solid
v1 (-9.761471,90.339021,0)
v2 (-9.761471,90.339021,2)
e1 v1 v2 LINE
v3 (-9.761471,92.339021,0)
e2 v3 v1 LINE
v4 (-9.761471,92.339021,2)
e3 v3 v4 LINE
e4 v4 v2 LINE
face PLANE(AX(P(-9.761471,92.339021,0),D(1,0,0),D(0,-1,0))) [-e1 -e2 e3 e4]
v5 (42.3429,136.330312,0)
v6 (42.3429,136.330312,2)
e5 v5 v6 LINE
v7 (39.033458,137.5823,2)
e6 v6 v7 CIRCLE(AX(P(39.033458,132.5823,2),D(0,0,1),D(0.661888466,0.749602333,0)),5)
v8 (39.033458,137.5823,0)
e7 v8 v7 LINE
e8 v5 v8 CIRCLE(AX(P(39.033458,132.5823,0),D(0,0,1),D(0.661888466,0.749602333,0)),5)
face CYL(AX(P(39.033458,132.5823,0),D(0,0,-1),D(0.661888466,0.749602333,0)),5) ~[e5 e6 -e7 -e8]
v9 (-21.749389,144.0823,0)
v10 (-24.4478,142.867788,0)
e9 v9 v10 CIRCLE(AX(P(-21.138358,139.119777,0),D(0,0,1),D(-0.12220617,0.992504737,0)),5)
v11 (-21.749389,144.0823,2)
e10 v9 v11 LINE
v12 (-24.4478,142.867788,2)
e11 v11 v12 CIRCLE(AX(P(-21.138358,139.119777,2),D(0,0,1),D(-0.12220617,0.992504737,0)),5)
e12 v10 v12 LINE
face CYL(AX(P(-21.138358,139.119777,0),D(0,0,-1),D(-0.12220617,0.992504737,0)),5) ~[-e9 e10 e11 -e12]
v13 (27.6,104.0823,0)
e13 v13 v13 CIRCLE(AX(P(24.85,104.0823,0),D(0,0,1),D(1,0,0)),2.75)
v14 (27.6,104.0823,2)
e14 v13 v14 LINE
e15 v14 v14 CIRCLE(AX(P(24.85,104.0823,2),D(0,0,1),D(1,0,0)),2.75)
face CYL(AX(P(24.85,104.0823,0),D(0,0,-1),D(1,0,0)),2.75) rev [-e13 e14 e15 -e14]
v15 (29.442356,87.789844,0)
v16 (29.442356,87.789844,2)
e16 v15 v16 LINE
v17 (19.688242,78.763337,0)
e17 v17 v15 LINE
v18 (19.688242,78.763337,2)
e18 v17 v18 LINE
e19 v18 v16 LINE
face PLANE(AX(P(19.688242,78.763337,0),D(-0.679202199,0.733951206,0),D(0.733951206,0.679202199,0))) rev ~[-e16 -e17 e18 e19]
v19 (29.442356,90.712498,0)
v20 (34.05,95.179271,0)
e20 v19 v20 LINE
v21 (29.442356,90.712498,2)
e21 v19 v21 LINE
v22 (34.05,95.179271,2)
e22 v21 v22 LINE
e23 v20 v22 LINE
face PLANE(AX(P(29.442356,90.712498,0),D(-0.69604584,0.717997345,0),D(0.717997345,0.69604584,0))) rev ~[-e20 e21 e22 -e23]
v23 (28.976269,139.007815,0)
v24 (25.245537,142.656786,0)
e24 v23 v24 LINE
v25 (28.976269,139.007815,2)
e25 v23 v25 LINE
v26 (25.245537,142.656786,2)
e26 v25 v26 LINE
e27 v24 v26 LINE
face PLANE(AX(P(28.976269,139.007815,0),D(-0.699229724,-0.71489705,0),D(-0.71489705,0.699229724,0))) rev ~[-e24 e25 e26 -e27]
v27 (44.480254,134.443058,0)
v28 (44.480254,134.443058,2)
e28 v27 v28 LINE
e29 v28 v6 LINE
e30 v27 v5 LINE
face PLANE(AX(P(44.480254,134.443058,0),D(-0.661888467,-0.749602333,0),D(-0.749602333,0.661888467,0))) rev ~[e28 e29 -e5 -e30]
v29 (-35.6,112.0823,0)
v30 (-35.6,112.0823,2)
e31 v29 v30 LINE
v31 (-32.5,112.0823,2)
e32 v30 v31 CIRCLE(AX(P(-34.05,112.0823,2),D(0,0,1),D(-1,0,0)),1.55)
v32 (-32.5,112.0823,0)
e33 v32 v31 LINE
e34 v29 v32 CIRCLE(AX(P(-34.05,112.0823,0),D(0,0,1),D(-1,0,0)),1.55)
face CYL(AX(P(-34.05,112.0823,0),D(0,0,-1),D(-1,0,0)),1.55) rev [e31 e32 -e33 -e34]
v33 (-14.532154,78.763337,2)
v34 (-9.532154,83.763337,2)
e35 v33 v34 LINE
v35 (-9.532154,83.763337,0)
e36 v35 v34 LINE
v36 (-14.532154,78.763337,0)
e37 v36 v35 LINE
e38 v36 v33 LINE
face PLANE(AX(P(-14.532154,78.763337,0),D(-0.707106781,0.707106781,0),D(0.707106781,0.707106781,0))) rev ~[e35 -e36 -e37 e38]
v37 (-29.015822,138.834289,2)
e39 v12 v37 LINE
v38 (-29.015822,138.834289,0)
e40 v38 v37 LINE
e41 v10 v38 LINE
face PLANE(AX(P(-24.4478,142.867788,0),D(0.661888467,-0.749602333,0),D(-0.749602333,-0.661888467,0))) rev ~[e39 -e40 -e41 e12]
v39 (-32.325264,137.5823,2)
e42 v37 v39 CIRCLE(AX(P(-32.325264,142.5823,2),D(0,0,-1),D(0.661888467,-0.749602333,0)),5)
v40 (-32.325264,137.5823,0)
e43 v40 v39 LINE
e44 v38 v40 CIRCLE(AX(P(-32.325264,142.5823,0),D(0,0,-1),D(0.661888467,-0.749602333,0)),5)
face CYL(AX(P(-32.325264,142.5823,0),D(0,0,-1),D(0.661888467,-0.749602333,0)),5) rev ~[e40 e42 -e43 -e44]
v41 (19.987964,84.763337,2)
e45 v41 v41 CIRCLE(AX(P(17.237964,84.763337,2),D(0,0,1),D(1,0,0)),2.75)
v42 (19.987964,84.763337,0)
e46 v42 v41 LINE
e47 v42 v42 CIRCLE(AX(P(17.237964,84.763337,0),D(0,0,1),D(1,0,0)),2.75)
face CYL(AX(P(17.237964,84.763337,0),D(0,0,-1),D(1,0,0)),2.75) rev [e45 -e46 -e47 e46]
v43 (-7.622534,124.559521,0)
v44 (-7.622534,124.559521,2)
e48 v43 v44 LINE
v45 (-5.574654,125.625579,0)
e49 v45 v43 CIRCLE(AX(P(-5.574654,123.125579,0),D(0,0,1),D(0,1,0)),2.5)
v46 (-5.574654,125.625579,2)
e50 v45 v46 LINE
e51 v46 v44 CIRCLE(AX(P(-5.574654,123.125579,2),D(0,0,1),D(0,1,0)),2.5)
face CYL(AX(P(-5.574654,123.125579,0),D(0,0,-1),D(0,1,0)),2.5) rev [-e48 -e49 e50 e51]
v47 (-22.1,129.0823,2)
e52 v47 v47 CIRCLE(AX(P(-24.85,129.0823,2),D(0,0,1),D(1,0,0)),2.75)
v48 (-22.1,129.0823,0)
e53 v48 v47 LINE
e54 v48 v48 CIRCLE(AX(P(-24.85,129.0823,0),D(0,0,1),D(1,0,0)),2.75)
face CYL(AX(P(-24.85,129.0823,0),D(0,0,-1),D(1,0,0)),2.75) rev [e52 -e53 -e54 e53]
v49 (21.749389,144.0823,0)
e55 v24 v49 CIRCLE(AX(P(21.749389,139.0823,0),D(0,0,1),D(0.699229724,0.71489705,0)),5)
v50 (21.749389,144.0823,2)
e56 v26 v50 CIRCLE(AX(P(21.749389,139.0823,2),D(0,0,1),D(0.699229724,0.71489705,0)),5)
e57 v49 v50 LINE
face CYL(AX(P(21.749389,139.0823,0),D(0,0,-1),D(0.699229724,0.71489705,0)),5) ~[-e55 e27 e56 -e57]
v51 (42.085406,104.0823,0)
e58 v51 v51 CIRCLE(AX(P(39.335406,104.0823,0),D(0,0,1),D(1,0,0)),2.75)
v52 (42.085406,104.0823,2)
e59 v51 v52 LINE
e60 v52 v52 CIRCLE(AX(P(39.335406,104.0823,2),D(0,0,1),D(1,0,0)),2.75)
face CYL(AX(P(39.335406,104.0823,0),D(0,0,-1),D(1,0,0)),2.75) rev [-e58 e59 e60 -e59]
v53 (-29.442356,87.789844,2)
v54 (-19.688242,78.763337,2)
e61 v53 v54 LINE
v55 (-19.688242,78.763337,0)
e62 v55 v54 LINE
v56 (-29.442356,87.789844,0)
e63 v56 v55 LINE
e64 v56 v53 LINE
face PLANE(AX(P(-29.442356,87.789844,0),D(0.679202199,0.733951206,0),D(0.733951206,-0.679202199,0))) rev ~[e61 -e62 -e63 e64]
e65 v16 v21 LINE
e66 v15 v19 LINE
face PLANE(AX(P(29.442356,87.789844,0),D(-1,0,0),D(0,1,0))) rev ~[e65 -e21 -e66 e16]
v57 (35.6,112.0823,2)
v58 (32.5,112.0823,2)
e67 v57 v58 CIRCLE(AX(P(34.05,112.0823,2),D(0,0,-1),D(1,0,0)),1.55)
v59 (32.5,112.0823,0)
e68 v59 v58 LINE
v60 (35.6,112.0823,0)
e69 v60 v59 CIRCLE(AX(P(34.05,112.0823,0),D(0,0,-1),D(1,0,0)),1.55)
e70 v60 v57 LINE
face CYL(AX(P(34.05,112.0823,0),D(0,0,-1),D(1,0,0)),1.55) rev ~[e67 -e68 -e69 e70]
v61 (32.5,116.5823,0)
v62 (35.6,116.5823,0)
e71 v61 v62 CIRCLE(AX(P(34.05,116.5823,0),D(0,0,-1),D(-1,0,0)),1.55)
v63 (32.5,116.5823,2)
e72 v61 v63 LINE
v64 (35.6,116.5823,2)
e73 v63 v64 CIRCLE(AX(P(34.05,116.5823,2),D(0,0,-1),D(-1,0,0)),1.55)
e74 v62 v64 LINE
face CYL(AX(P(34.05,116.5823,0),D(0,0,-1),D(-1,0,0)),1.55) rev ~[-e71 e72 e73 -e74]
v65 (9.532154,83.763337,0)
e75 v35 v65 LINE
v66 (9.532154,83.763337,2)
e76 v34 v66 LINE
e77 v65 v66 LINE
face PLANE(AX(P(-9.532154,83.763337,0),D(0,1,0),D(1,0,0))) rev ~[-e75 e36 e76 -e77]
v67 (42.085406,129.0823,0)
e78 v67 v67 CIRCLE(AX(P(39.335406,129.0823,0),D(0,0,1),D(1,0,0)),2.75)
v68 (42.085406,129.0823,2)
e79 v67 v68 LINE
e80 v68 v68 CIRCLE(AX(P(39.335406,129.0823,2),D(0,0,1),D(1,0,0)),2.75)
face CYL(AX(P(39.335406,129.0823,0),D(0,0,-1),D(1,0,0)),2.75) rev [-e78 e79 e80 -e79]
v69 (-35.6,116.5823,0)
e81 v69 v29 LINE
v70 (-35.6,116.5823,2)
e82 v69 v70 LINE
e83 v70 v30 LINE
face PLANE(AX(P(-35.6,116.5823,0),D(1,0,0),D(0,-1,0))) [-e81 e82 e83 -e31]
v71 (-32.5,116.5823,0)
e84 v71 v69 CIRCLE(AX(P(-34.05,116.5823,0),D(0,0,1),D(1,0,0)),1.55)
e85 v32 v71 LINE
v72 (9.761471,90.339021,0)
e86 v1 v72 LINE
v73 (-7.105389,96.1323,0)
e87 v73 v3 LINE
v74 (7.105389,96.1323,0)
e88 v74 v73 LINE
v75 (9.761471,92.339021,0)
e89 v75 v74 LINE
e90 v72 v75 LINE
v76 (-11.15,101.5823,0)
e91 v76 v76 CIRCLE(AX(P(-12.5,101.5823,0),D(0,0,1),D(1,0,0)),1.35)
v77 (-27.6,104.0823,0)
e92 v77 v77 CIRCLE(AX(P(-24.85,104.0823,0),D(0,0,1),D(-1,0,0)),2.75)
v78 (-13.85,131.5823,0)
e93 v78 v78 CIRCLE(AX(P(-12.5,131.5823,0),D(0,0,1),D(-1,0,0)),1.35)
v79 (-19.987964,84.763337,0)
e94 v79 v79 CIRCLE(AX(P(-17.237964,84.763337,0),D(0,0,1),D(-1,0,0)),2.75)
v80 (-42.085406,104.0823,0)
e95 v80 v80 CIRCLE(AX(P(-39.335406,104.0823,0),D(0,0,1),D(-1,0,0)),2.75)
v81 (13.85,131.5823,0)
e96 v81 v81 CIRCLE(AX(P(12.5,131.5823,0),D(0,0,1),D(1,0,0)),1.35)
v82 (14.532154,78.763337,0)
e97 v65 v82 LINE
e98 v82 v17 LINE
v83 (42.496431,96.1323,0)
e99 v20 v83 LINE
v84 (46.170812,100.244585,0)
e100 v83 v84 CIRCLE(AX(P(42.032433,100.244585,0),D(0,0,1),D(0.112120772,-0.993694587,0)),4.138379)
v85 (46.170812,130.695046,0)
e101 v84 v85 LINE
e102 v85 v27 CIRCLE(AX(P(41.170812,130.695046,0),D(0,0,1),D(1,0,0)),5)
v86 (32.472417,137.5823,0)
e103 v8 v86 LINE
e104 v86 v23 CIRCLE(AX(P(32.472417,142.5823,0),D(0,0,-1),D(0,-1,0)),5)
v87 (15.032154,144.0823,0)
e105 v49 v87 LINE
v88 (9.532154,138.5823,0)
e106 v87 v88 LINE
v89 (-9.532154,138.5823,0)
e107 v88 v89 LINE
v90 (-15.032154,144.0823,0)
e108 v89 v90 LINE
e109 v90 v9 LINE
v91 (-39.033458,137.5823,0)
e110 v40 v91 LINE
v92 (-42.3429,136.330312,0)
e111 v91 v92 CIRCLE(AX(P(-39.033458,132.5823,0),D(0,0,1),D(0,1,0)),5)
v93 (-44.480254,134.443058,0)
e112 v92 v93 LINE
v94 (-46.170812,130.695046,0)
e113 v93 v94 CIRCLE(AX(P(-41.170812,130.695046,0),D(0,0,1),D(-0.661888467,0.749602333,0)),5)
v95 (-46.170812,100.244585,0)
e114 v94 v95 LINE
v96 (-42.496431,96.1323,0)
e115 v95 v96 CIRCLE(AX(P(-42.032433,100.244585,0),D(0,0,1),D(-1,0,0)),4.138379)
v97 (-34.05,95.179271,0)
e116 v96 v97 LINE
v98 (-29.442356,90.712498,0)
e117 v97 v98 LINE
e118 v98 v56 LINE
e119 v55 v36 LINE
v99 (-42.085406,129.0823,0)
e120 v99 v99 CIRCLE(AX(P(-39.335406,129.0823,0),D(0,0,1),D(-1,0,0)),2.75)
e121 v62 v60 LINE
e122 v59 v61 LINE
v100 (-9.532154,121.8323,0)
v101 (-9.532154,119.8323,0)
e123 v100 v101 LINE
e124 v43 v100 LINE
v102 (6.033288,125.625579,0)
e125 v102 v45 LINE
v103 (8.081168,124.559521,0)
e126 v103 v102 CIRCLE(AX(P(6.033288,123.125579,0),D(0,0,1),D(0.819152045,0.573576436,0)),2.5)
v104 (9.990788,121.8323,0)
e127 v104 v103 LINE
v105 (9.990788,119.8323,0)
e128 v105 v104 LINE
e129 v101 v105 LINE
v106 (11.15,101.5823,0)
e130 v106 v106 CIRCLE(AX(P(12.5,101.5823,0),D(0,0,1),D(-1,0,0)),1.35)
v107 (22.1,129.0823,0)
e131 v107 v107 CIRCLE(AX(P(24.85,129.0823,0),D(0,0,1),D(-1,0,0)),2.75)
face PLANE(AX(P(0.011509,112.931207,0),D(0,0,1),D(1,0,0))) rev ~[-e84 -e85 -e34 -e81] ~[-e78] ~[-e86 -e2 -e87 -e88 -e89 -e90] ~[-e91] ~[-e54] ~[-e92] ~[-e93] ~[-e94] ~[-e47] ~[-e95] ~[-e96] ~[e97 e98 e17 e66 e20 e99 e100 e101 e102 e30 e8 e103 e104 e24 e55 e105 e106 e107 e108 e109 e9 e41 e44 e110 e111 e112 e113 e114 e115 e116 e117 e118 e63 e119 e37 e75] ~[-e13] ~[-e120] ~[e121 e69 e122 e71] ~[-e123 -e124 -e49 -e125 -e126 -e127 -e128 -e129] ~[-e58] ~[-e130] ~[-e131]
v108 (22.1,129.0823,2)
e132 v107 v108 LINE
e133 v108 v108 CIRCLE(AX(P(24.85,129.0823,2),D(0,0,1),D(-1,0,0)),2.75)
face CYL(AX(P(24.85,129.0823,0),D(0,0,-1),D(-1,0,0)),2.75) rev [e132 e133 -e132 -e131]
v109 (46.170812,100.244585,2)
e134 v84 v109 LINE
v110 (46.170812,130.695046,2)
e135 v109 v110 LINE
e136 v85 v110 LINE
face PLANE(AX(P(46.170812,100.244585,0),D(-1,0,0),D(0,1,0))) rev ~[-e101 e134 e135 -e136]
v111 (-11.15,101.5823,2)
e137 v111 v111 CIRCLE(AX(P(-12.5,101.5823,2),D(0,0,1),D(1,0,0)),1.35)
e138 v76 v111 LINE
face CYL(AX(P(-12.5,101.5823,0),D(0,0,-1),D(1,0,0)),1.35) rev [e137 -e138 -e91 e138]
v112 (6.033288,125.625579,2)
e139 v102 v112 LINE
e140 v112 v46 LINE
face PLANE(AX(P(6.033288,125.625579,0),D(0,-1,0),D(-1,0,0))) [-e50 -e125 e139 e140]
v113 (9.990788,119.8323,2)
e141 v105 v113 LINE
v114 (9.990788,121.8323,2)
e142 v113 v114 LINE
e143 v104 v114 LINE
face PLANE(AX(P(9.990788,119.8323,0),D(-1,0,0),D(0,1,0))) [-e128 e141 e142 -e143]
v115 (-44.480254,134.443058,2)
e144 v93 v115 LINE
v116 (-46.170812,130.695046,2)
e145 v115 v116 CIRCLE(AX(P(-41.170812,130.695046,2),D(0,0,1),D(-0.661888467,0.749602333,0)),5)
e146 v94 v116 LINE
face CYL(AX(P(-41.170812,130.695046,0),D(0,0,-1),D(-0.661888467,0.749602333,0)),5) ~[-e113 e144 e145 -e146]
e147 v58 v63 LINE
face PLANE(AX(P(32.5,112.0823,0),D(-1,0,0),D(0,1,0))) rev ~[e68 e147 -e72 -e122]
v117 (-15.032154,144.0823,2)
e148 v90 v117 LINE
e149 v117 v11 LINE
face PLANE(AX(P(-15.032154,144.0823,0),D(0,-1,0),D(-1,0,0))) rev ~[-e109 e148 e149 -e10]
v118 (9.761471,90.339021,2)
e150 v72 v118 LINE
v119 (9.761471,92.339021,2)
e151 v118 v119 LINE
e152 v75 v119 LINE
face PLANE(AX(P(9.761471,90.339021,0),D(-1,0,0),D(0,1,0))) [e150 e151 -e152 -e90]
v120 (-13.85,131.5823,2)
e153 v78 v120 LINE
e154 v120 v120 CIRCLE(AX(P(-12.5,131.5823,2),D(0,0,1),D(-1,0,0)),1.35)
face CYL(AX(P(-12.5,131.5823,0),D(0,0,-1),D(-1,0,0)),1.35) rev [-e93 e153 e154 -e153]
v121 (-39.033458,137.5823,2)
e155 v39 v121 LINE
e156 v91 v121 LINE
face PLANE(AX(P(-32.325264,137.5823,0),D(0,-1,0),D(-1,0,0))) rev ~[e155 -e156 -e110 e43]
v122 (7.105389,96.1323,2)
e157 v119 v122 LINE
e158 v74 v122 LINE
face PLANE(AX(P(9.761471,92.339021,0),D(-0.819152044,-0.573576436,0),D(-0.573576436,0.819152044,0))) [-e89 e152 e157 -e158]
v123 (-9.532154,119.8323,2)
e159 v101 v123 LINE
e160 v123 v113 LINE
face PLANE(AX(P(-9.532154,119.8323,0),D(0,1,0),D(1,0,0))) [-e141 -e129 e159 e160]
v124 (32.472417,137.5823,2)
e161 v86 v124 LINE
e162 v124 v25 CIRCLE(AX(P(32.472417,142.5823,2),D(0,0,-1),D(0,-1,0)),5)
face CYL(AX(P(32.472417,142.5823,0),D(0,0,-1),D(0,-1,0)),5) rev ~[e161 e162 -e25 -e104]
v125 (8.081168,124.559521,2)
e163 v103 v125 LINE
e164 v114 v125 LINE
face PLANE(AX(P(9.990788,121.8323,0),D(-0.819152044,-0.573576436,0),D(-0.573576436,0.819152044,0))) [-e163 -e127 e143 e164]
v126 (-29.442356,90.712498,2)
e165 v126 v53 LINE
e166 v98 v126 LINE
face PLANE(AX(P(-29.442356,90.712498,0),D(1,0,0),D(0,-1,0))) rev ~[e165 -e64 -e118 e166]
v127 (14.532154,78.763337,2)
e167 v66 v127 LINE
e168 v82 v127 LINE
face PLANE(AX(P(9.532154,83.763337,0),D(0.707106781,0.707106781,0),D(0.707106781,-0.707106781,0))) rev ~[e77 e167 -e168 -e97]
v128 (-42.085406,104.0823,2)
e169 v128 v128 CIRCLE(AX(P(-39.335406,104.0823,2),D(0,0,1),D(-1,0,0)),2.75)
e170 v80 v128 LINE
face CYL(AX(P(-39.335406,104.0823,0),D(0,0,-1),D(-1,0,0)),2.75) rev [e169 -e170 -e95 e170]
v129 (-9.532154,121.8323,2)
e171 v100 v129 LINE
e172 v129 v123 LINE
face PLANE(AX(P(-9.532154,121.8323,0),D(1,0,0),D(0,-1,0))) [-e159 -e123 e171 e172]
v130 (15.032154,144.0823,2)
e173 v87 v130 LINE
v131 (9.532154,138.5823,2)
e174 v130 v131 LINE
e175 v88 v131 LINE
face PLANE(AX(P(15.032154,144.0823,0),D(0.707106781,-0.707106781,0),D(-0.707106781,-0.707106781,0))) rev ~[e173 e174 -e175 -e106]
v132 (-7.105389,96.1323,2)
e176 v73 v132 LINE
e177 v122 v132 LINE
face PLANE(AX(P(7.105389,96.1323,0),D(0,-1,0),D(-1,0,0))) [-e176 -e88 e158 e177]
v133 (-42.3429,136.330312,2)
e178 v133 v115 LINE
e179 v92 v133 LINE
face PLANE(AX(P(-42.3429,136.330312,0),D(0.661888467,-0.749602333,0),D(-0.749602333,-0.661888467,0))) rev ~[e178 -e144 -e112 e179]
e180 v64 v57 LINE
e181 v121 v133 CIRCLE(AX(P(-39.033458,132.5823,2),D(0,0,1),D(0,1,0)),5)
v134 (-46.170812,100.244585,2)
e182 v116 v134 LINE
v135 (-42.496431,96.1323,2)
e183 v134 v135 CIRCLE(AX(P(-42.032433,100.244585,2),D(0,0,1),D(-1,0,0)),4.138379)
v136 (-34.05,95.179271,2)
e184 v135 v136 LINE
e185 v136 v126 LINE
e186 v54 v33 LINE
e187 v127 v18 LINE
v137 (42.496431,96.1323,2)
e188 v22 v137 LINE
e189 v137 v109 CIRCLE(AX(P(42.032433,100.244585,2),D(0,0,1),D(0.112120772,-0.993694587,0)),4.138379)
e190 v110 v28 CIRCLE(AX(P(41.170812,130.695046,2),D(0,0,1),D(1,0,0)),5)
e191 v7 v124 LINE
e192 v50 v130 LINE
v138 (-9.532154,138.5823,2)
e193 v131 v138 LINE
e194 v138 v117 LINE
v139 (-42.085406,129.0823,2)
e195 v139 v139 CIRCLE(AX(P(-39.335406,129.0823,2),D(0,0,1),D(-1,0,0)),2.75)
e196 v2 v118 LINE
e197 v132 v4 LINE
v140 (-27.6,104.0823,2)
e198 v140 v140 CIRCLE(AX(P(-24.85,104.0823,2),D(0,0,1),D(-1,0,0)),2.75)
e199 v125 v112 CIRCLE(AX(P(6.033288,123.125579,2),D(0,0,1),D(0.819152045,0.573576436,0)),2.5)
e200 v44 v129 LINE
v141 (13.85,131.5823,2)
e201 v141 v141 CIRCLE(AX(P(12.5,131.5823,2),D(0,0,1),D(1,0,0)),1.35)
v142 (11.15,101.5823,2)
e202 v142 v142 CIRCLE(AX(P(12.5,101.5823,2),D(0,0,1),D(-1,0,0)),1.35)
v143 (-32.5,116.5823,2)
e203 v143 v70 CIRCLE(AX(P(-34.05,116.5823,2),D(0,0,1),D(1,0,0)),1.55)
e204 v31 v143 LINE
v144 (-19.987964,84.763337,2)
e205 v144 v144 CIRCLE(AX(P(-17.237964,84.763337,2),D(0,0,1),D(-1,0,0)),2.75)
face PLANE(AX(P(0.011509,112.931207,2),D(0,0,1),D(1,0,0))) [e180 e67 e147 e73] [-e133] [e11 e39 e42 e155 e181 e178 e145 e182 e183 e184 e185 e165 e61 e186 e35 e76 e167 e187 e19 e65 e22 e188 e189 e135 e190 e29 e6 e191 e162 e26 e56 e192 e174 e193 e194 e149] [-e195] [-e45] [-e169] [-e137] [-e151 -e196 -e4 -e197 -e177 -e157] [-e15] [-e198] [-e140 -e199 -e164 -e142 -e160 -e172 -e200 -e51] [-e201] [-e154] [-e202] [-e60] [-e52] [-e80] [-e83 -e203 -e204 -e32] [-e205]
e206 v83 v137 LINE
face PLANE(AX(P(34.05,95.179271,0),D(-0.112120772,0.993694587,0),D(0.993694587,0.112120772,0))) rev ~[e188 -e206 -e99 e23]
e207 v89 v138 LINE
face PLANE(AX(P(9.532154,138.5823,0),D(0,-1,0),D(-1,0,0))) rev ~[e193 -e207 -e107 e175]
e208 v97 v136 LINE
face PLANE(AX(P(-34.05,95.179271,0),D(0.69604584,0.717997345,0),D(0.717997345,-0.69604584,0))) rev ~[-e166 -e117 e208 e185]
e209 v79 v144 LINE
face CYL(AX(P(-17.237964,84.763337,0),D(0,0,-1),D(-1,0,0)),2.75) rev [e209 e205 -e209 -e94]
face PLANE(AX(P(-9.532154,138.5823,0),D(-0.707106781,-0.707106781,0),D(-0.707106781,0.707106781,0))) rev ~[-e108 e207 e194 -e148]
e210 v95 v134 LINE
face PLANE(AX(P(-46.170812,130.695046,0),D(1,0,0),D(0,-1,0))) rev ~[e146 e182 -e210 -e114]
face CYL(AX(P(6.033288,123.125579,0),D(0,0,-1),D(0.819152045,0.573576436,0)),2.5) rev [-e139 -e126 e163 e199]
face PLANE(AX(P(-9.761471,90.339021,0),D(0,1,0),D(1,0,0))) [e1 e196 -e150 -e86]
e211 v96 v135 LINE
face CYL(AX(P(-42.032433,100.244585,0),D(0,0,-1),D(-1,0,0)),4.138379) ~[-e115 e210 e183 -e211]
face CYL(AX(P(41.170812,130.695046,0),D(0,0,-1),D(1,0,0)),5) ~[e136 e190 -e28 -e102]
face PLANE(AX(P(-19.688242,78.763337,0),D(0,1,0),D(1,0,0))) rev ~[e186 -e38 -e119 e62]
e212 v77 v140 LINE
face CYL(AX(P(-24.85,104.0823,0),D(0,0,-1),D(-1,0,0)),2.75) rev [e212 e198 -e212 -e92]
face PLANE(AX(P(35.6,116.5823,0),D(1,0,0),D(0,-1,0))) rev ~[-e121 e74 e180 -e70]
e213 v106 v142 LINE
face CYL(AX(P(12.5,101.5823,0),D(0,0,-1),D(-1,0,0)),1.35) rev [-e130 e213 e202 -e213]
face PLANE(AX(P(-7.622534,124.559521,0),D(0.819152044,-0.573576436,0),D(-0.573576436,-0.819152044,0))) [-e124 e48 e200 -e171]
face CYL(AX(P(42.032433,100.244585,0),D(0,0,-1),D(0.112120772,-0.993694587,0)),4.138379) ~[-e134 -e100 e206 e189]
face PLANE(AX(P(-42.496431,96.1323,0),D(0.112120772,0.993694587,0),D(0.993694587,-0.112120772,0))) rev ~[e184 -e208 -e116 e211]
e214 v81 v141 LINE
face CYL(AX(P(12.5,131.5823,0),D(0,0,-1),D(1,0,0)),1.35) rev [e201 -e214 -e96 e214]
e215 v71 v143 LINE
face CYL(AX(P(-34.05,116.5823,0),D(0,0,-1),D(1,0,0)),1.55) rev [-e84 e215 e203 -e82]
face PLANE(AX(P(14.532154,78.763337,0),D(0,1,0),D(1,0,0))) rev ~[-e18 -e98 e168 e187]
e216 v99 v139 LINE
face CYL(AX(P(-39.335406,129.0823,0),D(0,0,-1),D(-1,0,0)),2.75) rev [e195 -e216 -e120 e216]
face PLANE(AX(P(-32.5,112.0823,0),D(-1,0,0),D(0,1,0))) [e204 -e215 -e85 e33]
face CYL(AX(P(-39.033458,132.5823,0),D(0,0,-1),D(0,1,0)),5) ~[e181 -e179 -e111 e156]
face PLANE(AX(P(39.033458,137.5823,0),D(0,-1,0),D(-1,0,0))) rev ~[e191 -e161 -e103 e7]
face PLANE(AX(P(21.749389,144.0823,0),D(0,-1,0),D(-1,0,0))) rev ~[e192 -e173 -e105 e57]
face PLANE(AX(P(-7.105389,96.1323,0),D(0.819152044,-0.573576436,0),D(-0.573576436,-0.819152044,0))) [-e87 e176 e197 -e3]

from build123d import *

# Parameters (mm, degrees)
SKETCH_187_R    = 2.75
SKETCH_187_R_2  = 1.35
EXTRUDE_1_DEPTH = 2


with BuildPart() as part:
    # Sketch 187 → 凸台-拉伸1 (new body)
    with BuildSketch(Plane.XY):
        with BuildLine():
            Line((-24.447800114, 142.867788384), (-29.015821613, 138.834288737))
            ThreePointArc((-29.015821613, 138.834288737), (-30.556091587, 137.905760103), (-32.325263946, 137.582300402))
            Line((-32.325263946, 137.582300402), (-39.033457742, 137.582300402))
            ThreePointArc((-39.033457742, 137.582300402), (-40.802630101, 137.2588407), (-42.342900075, 136.330312067))
            Line((-42.342900075, 136.330312067), (-44.480254451, 134.443057788))
            ThreePointArc((-44.480254451, 134.443057788), (-45.728619247, 132.750865708), (-46.170812117, 130.695046123))
            Line((-46.170812117, 130.695046123), (-46.170812117, 100.244585214))
            ThreePointArc((-46.170812117, 100.244585214), (-45.11839985, 97.487233211), (-42.496431366, 96.132300402))
            Line((-42.496431366, 96.132300402), (-34.05, 95.17927075))
            Line((-34.05, 95.17927075), (-29.442356392, 90.712497735))
            Line((-29.442356392, 90.712497735), (-29.442356392, 87.789843939))
            Line((-29.442356392, 87.789843939), (-19.688242157, 78.763336754))
            Line((-19.688242157, 78.763336754), (-14.532154357, 78.763336754))
            Line((-14.532154357, 78.763336754), (-9.532154357, 83.763336754))
            Line((-9.532154357, 83.763336754), (9.532154357, 83.763336754))
            Line((9.532154357, 83.763336754), (14.532154357, 78.763336754))
            Line((14.532154357, 78.763336754), (19.688242157, 78.763336754))
            Line((19.688242157, 78.763336754), (29.442356392, 87.789843939))
            Line((29.442356392, 87.789843939), (29.442356392, 90.712497735))
            Line((29.442356392, 90.712497735), (34.05, 95.17927075))
            Line((34.05, 95.17927075), (42.496431366, 96.132300402))
            ThreePointArc((42.496431366, 96.132300402), (45.11839985, 97.487233211), (46.170812117, 100.244585214))
            Line((46.170812117, 100.244585214), (46.170812117, 130.695046123))
            ThreePointArc((46.170812117, 130.695046123), (45.728619247, 132.750865708), (44.480254451, 134.443057788))
            Line((44.480254451, 134.443057788), (42.342900075, 136.330312067))
            ThreePointArc((42.342900075, 136.330312067), (40.802630101, 137.2588407), (39.033457742, 137.582300402))
            Line((39.033457742, 137.582300402), (32.472417217, 137.582300402))
            ThreePointArc((32.472417217, 137.582300402), (30.584617738, 137.952374579), (28.976268595, 139.007815151))
            Line((28.976268595, 139.007815151), (25.245537252, 142.656785653))
            ThreePointArc((25.245537252, 142.656785653), (23.637188108, 143.712226225), (21.74938863, 144.082300402))
            Line((21.74938863, 144.082300402), (15.032154357, 144.082300402))
            Line((15.032154357, 144.082300402), (9.532154357, 138.582300402))
            Line((9.532154357, 138.582300402), (-9.532154357, 138.582300402))
            Line((-9.532154357, 138.582300402), (-15.032154357, 144.082300402))
            Line((-15.032154357, 144.082300402), (-21.74938863, 144.082300402))
            ThreePointArc((-21.74938863, 144.082300402), (-23.190499918, 143.679240794), (-24.447800114, 142.867788384))
        make_face()
        with Locations((39.335406059, 129.082300402)):
            Circle(SKETCH_187_R, mode=Mode.SUBTRACT)
        with Locations((39.335406059, 104.082300402)):
            Circle(SKETCH_187_R, mode=Mode.SUBTRACT)
        with Locations((17.23796389, 84.763336754)):
            Circle(SKETCH_187_R, mode=Mode.SUBTRACT)
        with Locations(Location((-17.23796389, 84.763336754, 0), (0, 0, 180))):
            Circle(SKETCH_187_R, mode=Mode.SUBTRACT)
        with Locations(Location((-39.335406059, 104.082300402, 0), (0, 0, 180))):
            Circle(SKETCH_187_R, mode=Mode.SUBTRACT)
        with Locations(Location((-39.335406059, 129.082300402, 0), (0, 0, 180))):
            Circle(SKETCH_187_R, mode=Mode.SUBTRACT)
        with Locations(Location((24.85, 129.082300402, 0), (0, 0, 180))):
            Circle(SKETCH_187_R, mode=Mode.SUBTRACT)
        with Locations((-24.85, 129.082300402)):
            Circle(SKETCH_187_R, mode=Mode.SUBTRACT)
        with Locations(Location((-24.85, 104.082300402, 0), (0, 0, 180))):
            Circle(SKETCH_187_R, mode=Mode.SUBTRACT)
        with Locations((24.85, 104.082300402)):
            Circle(SKETCH_187_R, mode=Mode.SUBTRACT)
        with Locations((12.5, 131.582300402)):
            Circle(SKETCH_187_R_2, mode=Mode.SUBTRACT)
        with Locations(Location((-12.5, 131.582300402, 0), (0, 0, 180))):
            Circle(SKETCH_187_R_2, mode=Mode.SUBTRACT)
        with Locations((-12.5, 101.582300402)):
            Circle(SKETCH_187_R_2, mode=Mode.SUBTRACT)
        with Locations(Location((12.5, 101.582300402, 0), (0, 0, 180))):
            Circle(SKETCH_187_R_2, mode=Mode.SUBTRACT)
        Polygon((7.105388598, 96.132300402), (-7.105388598, 96.132300402), (-9.761471208, 92.339021317), (-9.761471208, 90.339021317), (9.761471208, 90.339021317), (9.761471208, 92.339021317), align=None, mode=Mode.SUBTRACT)
        with BuildLine():
            Line((-35.6, 116.582300402), (-35.6, 112.082300402))
            ThreePointArc((-35.6, 112.082300402), (-34.05, 110.532300402), (-32.5, 112.082300402))
            Line((-32.5, 112.082300402), (-32.5, 116.582300402))
            ThreePointArc((-32.5, 116.582300402), (-34.05, 118.132300402), (-35.6, 116.582300402))
        make_face(mode=Mode.SUBTRACT)
        with BuildLine():
            Line((35.6, 116.582300402), (35.6, 112.082300402))
            ThreePointArc((35.6, 112.082300402), (34.05, 110.532300402), (32.5, 112.082300402))
            Line((32.5, 112.082300402), (32.5, 116.582300402))
            ThreePointArc((32.5, 116.582300402), (34.05, 118.132300402), (35.6, 116.582300402))
        make_face(mode=Mode.SUBTRACT)
        with BuildLine():
            Line((6.033287824, 125.625579487), (-5.574654121, 125.625579487))
            ThreePointArc((-5.574654121, 125.625579487), (-6.729025654, 125.34310657), (-7.622534231, 124.559520578))
            Line((-7.622534231, 124.559520578), (-9.532154357, 121.832300402))
            Line((-9.532154357, 121.832300402), (-9.532154357, 119.832300402))
            Line((-9.532154357, 119.832300402), (9.99078806, 119.832300402))
            Line((9.99078806, 119.832300402), (9.99078806, 121.832300402))
            Line((9.99078806, 121.832300402), (8.081167934, 124.559520578))
            ThreePointArc((8.081167934, 124.559520578), (7.187659357, 125.34310657), (6.033287824, 125.625579487))
        make_face(mode=Mode.SUBTRACT)
    extrude(amount=EXTRUDE_1_DEPTH)


solid = part.part
